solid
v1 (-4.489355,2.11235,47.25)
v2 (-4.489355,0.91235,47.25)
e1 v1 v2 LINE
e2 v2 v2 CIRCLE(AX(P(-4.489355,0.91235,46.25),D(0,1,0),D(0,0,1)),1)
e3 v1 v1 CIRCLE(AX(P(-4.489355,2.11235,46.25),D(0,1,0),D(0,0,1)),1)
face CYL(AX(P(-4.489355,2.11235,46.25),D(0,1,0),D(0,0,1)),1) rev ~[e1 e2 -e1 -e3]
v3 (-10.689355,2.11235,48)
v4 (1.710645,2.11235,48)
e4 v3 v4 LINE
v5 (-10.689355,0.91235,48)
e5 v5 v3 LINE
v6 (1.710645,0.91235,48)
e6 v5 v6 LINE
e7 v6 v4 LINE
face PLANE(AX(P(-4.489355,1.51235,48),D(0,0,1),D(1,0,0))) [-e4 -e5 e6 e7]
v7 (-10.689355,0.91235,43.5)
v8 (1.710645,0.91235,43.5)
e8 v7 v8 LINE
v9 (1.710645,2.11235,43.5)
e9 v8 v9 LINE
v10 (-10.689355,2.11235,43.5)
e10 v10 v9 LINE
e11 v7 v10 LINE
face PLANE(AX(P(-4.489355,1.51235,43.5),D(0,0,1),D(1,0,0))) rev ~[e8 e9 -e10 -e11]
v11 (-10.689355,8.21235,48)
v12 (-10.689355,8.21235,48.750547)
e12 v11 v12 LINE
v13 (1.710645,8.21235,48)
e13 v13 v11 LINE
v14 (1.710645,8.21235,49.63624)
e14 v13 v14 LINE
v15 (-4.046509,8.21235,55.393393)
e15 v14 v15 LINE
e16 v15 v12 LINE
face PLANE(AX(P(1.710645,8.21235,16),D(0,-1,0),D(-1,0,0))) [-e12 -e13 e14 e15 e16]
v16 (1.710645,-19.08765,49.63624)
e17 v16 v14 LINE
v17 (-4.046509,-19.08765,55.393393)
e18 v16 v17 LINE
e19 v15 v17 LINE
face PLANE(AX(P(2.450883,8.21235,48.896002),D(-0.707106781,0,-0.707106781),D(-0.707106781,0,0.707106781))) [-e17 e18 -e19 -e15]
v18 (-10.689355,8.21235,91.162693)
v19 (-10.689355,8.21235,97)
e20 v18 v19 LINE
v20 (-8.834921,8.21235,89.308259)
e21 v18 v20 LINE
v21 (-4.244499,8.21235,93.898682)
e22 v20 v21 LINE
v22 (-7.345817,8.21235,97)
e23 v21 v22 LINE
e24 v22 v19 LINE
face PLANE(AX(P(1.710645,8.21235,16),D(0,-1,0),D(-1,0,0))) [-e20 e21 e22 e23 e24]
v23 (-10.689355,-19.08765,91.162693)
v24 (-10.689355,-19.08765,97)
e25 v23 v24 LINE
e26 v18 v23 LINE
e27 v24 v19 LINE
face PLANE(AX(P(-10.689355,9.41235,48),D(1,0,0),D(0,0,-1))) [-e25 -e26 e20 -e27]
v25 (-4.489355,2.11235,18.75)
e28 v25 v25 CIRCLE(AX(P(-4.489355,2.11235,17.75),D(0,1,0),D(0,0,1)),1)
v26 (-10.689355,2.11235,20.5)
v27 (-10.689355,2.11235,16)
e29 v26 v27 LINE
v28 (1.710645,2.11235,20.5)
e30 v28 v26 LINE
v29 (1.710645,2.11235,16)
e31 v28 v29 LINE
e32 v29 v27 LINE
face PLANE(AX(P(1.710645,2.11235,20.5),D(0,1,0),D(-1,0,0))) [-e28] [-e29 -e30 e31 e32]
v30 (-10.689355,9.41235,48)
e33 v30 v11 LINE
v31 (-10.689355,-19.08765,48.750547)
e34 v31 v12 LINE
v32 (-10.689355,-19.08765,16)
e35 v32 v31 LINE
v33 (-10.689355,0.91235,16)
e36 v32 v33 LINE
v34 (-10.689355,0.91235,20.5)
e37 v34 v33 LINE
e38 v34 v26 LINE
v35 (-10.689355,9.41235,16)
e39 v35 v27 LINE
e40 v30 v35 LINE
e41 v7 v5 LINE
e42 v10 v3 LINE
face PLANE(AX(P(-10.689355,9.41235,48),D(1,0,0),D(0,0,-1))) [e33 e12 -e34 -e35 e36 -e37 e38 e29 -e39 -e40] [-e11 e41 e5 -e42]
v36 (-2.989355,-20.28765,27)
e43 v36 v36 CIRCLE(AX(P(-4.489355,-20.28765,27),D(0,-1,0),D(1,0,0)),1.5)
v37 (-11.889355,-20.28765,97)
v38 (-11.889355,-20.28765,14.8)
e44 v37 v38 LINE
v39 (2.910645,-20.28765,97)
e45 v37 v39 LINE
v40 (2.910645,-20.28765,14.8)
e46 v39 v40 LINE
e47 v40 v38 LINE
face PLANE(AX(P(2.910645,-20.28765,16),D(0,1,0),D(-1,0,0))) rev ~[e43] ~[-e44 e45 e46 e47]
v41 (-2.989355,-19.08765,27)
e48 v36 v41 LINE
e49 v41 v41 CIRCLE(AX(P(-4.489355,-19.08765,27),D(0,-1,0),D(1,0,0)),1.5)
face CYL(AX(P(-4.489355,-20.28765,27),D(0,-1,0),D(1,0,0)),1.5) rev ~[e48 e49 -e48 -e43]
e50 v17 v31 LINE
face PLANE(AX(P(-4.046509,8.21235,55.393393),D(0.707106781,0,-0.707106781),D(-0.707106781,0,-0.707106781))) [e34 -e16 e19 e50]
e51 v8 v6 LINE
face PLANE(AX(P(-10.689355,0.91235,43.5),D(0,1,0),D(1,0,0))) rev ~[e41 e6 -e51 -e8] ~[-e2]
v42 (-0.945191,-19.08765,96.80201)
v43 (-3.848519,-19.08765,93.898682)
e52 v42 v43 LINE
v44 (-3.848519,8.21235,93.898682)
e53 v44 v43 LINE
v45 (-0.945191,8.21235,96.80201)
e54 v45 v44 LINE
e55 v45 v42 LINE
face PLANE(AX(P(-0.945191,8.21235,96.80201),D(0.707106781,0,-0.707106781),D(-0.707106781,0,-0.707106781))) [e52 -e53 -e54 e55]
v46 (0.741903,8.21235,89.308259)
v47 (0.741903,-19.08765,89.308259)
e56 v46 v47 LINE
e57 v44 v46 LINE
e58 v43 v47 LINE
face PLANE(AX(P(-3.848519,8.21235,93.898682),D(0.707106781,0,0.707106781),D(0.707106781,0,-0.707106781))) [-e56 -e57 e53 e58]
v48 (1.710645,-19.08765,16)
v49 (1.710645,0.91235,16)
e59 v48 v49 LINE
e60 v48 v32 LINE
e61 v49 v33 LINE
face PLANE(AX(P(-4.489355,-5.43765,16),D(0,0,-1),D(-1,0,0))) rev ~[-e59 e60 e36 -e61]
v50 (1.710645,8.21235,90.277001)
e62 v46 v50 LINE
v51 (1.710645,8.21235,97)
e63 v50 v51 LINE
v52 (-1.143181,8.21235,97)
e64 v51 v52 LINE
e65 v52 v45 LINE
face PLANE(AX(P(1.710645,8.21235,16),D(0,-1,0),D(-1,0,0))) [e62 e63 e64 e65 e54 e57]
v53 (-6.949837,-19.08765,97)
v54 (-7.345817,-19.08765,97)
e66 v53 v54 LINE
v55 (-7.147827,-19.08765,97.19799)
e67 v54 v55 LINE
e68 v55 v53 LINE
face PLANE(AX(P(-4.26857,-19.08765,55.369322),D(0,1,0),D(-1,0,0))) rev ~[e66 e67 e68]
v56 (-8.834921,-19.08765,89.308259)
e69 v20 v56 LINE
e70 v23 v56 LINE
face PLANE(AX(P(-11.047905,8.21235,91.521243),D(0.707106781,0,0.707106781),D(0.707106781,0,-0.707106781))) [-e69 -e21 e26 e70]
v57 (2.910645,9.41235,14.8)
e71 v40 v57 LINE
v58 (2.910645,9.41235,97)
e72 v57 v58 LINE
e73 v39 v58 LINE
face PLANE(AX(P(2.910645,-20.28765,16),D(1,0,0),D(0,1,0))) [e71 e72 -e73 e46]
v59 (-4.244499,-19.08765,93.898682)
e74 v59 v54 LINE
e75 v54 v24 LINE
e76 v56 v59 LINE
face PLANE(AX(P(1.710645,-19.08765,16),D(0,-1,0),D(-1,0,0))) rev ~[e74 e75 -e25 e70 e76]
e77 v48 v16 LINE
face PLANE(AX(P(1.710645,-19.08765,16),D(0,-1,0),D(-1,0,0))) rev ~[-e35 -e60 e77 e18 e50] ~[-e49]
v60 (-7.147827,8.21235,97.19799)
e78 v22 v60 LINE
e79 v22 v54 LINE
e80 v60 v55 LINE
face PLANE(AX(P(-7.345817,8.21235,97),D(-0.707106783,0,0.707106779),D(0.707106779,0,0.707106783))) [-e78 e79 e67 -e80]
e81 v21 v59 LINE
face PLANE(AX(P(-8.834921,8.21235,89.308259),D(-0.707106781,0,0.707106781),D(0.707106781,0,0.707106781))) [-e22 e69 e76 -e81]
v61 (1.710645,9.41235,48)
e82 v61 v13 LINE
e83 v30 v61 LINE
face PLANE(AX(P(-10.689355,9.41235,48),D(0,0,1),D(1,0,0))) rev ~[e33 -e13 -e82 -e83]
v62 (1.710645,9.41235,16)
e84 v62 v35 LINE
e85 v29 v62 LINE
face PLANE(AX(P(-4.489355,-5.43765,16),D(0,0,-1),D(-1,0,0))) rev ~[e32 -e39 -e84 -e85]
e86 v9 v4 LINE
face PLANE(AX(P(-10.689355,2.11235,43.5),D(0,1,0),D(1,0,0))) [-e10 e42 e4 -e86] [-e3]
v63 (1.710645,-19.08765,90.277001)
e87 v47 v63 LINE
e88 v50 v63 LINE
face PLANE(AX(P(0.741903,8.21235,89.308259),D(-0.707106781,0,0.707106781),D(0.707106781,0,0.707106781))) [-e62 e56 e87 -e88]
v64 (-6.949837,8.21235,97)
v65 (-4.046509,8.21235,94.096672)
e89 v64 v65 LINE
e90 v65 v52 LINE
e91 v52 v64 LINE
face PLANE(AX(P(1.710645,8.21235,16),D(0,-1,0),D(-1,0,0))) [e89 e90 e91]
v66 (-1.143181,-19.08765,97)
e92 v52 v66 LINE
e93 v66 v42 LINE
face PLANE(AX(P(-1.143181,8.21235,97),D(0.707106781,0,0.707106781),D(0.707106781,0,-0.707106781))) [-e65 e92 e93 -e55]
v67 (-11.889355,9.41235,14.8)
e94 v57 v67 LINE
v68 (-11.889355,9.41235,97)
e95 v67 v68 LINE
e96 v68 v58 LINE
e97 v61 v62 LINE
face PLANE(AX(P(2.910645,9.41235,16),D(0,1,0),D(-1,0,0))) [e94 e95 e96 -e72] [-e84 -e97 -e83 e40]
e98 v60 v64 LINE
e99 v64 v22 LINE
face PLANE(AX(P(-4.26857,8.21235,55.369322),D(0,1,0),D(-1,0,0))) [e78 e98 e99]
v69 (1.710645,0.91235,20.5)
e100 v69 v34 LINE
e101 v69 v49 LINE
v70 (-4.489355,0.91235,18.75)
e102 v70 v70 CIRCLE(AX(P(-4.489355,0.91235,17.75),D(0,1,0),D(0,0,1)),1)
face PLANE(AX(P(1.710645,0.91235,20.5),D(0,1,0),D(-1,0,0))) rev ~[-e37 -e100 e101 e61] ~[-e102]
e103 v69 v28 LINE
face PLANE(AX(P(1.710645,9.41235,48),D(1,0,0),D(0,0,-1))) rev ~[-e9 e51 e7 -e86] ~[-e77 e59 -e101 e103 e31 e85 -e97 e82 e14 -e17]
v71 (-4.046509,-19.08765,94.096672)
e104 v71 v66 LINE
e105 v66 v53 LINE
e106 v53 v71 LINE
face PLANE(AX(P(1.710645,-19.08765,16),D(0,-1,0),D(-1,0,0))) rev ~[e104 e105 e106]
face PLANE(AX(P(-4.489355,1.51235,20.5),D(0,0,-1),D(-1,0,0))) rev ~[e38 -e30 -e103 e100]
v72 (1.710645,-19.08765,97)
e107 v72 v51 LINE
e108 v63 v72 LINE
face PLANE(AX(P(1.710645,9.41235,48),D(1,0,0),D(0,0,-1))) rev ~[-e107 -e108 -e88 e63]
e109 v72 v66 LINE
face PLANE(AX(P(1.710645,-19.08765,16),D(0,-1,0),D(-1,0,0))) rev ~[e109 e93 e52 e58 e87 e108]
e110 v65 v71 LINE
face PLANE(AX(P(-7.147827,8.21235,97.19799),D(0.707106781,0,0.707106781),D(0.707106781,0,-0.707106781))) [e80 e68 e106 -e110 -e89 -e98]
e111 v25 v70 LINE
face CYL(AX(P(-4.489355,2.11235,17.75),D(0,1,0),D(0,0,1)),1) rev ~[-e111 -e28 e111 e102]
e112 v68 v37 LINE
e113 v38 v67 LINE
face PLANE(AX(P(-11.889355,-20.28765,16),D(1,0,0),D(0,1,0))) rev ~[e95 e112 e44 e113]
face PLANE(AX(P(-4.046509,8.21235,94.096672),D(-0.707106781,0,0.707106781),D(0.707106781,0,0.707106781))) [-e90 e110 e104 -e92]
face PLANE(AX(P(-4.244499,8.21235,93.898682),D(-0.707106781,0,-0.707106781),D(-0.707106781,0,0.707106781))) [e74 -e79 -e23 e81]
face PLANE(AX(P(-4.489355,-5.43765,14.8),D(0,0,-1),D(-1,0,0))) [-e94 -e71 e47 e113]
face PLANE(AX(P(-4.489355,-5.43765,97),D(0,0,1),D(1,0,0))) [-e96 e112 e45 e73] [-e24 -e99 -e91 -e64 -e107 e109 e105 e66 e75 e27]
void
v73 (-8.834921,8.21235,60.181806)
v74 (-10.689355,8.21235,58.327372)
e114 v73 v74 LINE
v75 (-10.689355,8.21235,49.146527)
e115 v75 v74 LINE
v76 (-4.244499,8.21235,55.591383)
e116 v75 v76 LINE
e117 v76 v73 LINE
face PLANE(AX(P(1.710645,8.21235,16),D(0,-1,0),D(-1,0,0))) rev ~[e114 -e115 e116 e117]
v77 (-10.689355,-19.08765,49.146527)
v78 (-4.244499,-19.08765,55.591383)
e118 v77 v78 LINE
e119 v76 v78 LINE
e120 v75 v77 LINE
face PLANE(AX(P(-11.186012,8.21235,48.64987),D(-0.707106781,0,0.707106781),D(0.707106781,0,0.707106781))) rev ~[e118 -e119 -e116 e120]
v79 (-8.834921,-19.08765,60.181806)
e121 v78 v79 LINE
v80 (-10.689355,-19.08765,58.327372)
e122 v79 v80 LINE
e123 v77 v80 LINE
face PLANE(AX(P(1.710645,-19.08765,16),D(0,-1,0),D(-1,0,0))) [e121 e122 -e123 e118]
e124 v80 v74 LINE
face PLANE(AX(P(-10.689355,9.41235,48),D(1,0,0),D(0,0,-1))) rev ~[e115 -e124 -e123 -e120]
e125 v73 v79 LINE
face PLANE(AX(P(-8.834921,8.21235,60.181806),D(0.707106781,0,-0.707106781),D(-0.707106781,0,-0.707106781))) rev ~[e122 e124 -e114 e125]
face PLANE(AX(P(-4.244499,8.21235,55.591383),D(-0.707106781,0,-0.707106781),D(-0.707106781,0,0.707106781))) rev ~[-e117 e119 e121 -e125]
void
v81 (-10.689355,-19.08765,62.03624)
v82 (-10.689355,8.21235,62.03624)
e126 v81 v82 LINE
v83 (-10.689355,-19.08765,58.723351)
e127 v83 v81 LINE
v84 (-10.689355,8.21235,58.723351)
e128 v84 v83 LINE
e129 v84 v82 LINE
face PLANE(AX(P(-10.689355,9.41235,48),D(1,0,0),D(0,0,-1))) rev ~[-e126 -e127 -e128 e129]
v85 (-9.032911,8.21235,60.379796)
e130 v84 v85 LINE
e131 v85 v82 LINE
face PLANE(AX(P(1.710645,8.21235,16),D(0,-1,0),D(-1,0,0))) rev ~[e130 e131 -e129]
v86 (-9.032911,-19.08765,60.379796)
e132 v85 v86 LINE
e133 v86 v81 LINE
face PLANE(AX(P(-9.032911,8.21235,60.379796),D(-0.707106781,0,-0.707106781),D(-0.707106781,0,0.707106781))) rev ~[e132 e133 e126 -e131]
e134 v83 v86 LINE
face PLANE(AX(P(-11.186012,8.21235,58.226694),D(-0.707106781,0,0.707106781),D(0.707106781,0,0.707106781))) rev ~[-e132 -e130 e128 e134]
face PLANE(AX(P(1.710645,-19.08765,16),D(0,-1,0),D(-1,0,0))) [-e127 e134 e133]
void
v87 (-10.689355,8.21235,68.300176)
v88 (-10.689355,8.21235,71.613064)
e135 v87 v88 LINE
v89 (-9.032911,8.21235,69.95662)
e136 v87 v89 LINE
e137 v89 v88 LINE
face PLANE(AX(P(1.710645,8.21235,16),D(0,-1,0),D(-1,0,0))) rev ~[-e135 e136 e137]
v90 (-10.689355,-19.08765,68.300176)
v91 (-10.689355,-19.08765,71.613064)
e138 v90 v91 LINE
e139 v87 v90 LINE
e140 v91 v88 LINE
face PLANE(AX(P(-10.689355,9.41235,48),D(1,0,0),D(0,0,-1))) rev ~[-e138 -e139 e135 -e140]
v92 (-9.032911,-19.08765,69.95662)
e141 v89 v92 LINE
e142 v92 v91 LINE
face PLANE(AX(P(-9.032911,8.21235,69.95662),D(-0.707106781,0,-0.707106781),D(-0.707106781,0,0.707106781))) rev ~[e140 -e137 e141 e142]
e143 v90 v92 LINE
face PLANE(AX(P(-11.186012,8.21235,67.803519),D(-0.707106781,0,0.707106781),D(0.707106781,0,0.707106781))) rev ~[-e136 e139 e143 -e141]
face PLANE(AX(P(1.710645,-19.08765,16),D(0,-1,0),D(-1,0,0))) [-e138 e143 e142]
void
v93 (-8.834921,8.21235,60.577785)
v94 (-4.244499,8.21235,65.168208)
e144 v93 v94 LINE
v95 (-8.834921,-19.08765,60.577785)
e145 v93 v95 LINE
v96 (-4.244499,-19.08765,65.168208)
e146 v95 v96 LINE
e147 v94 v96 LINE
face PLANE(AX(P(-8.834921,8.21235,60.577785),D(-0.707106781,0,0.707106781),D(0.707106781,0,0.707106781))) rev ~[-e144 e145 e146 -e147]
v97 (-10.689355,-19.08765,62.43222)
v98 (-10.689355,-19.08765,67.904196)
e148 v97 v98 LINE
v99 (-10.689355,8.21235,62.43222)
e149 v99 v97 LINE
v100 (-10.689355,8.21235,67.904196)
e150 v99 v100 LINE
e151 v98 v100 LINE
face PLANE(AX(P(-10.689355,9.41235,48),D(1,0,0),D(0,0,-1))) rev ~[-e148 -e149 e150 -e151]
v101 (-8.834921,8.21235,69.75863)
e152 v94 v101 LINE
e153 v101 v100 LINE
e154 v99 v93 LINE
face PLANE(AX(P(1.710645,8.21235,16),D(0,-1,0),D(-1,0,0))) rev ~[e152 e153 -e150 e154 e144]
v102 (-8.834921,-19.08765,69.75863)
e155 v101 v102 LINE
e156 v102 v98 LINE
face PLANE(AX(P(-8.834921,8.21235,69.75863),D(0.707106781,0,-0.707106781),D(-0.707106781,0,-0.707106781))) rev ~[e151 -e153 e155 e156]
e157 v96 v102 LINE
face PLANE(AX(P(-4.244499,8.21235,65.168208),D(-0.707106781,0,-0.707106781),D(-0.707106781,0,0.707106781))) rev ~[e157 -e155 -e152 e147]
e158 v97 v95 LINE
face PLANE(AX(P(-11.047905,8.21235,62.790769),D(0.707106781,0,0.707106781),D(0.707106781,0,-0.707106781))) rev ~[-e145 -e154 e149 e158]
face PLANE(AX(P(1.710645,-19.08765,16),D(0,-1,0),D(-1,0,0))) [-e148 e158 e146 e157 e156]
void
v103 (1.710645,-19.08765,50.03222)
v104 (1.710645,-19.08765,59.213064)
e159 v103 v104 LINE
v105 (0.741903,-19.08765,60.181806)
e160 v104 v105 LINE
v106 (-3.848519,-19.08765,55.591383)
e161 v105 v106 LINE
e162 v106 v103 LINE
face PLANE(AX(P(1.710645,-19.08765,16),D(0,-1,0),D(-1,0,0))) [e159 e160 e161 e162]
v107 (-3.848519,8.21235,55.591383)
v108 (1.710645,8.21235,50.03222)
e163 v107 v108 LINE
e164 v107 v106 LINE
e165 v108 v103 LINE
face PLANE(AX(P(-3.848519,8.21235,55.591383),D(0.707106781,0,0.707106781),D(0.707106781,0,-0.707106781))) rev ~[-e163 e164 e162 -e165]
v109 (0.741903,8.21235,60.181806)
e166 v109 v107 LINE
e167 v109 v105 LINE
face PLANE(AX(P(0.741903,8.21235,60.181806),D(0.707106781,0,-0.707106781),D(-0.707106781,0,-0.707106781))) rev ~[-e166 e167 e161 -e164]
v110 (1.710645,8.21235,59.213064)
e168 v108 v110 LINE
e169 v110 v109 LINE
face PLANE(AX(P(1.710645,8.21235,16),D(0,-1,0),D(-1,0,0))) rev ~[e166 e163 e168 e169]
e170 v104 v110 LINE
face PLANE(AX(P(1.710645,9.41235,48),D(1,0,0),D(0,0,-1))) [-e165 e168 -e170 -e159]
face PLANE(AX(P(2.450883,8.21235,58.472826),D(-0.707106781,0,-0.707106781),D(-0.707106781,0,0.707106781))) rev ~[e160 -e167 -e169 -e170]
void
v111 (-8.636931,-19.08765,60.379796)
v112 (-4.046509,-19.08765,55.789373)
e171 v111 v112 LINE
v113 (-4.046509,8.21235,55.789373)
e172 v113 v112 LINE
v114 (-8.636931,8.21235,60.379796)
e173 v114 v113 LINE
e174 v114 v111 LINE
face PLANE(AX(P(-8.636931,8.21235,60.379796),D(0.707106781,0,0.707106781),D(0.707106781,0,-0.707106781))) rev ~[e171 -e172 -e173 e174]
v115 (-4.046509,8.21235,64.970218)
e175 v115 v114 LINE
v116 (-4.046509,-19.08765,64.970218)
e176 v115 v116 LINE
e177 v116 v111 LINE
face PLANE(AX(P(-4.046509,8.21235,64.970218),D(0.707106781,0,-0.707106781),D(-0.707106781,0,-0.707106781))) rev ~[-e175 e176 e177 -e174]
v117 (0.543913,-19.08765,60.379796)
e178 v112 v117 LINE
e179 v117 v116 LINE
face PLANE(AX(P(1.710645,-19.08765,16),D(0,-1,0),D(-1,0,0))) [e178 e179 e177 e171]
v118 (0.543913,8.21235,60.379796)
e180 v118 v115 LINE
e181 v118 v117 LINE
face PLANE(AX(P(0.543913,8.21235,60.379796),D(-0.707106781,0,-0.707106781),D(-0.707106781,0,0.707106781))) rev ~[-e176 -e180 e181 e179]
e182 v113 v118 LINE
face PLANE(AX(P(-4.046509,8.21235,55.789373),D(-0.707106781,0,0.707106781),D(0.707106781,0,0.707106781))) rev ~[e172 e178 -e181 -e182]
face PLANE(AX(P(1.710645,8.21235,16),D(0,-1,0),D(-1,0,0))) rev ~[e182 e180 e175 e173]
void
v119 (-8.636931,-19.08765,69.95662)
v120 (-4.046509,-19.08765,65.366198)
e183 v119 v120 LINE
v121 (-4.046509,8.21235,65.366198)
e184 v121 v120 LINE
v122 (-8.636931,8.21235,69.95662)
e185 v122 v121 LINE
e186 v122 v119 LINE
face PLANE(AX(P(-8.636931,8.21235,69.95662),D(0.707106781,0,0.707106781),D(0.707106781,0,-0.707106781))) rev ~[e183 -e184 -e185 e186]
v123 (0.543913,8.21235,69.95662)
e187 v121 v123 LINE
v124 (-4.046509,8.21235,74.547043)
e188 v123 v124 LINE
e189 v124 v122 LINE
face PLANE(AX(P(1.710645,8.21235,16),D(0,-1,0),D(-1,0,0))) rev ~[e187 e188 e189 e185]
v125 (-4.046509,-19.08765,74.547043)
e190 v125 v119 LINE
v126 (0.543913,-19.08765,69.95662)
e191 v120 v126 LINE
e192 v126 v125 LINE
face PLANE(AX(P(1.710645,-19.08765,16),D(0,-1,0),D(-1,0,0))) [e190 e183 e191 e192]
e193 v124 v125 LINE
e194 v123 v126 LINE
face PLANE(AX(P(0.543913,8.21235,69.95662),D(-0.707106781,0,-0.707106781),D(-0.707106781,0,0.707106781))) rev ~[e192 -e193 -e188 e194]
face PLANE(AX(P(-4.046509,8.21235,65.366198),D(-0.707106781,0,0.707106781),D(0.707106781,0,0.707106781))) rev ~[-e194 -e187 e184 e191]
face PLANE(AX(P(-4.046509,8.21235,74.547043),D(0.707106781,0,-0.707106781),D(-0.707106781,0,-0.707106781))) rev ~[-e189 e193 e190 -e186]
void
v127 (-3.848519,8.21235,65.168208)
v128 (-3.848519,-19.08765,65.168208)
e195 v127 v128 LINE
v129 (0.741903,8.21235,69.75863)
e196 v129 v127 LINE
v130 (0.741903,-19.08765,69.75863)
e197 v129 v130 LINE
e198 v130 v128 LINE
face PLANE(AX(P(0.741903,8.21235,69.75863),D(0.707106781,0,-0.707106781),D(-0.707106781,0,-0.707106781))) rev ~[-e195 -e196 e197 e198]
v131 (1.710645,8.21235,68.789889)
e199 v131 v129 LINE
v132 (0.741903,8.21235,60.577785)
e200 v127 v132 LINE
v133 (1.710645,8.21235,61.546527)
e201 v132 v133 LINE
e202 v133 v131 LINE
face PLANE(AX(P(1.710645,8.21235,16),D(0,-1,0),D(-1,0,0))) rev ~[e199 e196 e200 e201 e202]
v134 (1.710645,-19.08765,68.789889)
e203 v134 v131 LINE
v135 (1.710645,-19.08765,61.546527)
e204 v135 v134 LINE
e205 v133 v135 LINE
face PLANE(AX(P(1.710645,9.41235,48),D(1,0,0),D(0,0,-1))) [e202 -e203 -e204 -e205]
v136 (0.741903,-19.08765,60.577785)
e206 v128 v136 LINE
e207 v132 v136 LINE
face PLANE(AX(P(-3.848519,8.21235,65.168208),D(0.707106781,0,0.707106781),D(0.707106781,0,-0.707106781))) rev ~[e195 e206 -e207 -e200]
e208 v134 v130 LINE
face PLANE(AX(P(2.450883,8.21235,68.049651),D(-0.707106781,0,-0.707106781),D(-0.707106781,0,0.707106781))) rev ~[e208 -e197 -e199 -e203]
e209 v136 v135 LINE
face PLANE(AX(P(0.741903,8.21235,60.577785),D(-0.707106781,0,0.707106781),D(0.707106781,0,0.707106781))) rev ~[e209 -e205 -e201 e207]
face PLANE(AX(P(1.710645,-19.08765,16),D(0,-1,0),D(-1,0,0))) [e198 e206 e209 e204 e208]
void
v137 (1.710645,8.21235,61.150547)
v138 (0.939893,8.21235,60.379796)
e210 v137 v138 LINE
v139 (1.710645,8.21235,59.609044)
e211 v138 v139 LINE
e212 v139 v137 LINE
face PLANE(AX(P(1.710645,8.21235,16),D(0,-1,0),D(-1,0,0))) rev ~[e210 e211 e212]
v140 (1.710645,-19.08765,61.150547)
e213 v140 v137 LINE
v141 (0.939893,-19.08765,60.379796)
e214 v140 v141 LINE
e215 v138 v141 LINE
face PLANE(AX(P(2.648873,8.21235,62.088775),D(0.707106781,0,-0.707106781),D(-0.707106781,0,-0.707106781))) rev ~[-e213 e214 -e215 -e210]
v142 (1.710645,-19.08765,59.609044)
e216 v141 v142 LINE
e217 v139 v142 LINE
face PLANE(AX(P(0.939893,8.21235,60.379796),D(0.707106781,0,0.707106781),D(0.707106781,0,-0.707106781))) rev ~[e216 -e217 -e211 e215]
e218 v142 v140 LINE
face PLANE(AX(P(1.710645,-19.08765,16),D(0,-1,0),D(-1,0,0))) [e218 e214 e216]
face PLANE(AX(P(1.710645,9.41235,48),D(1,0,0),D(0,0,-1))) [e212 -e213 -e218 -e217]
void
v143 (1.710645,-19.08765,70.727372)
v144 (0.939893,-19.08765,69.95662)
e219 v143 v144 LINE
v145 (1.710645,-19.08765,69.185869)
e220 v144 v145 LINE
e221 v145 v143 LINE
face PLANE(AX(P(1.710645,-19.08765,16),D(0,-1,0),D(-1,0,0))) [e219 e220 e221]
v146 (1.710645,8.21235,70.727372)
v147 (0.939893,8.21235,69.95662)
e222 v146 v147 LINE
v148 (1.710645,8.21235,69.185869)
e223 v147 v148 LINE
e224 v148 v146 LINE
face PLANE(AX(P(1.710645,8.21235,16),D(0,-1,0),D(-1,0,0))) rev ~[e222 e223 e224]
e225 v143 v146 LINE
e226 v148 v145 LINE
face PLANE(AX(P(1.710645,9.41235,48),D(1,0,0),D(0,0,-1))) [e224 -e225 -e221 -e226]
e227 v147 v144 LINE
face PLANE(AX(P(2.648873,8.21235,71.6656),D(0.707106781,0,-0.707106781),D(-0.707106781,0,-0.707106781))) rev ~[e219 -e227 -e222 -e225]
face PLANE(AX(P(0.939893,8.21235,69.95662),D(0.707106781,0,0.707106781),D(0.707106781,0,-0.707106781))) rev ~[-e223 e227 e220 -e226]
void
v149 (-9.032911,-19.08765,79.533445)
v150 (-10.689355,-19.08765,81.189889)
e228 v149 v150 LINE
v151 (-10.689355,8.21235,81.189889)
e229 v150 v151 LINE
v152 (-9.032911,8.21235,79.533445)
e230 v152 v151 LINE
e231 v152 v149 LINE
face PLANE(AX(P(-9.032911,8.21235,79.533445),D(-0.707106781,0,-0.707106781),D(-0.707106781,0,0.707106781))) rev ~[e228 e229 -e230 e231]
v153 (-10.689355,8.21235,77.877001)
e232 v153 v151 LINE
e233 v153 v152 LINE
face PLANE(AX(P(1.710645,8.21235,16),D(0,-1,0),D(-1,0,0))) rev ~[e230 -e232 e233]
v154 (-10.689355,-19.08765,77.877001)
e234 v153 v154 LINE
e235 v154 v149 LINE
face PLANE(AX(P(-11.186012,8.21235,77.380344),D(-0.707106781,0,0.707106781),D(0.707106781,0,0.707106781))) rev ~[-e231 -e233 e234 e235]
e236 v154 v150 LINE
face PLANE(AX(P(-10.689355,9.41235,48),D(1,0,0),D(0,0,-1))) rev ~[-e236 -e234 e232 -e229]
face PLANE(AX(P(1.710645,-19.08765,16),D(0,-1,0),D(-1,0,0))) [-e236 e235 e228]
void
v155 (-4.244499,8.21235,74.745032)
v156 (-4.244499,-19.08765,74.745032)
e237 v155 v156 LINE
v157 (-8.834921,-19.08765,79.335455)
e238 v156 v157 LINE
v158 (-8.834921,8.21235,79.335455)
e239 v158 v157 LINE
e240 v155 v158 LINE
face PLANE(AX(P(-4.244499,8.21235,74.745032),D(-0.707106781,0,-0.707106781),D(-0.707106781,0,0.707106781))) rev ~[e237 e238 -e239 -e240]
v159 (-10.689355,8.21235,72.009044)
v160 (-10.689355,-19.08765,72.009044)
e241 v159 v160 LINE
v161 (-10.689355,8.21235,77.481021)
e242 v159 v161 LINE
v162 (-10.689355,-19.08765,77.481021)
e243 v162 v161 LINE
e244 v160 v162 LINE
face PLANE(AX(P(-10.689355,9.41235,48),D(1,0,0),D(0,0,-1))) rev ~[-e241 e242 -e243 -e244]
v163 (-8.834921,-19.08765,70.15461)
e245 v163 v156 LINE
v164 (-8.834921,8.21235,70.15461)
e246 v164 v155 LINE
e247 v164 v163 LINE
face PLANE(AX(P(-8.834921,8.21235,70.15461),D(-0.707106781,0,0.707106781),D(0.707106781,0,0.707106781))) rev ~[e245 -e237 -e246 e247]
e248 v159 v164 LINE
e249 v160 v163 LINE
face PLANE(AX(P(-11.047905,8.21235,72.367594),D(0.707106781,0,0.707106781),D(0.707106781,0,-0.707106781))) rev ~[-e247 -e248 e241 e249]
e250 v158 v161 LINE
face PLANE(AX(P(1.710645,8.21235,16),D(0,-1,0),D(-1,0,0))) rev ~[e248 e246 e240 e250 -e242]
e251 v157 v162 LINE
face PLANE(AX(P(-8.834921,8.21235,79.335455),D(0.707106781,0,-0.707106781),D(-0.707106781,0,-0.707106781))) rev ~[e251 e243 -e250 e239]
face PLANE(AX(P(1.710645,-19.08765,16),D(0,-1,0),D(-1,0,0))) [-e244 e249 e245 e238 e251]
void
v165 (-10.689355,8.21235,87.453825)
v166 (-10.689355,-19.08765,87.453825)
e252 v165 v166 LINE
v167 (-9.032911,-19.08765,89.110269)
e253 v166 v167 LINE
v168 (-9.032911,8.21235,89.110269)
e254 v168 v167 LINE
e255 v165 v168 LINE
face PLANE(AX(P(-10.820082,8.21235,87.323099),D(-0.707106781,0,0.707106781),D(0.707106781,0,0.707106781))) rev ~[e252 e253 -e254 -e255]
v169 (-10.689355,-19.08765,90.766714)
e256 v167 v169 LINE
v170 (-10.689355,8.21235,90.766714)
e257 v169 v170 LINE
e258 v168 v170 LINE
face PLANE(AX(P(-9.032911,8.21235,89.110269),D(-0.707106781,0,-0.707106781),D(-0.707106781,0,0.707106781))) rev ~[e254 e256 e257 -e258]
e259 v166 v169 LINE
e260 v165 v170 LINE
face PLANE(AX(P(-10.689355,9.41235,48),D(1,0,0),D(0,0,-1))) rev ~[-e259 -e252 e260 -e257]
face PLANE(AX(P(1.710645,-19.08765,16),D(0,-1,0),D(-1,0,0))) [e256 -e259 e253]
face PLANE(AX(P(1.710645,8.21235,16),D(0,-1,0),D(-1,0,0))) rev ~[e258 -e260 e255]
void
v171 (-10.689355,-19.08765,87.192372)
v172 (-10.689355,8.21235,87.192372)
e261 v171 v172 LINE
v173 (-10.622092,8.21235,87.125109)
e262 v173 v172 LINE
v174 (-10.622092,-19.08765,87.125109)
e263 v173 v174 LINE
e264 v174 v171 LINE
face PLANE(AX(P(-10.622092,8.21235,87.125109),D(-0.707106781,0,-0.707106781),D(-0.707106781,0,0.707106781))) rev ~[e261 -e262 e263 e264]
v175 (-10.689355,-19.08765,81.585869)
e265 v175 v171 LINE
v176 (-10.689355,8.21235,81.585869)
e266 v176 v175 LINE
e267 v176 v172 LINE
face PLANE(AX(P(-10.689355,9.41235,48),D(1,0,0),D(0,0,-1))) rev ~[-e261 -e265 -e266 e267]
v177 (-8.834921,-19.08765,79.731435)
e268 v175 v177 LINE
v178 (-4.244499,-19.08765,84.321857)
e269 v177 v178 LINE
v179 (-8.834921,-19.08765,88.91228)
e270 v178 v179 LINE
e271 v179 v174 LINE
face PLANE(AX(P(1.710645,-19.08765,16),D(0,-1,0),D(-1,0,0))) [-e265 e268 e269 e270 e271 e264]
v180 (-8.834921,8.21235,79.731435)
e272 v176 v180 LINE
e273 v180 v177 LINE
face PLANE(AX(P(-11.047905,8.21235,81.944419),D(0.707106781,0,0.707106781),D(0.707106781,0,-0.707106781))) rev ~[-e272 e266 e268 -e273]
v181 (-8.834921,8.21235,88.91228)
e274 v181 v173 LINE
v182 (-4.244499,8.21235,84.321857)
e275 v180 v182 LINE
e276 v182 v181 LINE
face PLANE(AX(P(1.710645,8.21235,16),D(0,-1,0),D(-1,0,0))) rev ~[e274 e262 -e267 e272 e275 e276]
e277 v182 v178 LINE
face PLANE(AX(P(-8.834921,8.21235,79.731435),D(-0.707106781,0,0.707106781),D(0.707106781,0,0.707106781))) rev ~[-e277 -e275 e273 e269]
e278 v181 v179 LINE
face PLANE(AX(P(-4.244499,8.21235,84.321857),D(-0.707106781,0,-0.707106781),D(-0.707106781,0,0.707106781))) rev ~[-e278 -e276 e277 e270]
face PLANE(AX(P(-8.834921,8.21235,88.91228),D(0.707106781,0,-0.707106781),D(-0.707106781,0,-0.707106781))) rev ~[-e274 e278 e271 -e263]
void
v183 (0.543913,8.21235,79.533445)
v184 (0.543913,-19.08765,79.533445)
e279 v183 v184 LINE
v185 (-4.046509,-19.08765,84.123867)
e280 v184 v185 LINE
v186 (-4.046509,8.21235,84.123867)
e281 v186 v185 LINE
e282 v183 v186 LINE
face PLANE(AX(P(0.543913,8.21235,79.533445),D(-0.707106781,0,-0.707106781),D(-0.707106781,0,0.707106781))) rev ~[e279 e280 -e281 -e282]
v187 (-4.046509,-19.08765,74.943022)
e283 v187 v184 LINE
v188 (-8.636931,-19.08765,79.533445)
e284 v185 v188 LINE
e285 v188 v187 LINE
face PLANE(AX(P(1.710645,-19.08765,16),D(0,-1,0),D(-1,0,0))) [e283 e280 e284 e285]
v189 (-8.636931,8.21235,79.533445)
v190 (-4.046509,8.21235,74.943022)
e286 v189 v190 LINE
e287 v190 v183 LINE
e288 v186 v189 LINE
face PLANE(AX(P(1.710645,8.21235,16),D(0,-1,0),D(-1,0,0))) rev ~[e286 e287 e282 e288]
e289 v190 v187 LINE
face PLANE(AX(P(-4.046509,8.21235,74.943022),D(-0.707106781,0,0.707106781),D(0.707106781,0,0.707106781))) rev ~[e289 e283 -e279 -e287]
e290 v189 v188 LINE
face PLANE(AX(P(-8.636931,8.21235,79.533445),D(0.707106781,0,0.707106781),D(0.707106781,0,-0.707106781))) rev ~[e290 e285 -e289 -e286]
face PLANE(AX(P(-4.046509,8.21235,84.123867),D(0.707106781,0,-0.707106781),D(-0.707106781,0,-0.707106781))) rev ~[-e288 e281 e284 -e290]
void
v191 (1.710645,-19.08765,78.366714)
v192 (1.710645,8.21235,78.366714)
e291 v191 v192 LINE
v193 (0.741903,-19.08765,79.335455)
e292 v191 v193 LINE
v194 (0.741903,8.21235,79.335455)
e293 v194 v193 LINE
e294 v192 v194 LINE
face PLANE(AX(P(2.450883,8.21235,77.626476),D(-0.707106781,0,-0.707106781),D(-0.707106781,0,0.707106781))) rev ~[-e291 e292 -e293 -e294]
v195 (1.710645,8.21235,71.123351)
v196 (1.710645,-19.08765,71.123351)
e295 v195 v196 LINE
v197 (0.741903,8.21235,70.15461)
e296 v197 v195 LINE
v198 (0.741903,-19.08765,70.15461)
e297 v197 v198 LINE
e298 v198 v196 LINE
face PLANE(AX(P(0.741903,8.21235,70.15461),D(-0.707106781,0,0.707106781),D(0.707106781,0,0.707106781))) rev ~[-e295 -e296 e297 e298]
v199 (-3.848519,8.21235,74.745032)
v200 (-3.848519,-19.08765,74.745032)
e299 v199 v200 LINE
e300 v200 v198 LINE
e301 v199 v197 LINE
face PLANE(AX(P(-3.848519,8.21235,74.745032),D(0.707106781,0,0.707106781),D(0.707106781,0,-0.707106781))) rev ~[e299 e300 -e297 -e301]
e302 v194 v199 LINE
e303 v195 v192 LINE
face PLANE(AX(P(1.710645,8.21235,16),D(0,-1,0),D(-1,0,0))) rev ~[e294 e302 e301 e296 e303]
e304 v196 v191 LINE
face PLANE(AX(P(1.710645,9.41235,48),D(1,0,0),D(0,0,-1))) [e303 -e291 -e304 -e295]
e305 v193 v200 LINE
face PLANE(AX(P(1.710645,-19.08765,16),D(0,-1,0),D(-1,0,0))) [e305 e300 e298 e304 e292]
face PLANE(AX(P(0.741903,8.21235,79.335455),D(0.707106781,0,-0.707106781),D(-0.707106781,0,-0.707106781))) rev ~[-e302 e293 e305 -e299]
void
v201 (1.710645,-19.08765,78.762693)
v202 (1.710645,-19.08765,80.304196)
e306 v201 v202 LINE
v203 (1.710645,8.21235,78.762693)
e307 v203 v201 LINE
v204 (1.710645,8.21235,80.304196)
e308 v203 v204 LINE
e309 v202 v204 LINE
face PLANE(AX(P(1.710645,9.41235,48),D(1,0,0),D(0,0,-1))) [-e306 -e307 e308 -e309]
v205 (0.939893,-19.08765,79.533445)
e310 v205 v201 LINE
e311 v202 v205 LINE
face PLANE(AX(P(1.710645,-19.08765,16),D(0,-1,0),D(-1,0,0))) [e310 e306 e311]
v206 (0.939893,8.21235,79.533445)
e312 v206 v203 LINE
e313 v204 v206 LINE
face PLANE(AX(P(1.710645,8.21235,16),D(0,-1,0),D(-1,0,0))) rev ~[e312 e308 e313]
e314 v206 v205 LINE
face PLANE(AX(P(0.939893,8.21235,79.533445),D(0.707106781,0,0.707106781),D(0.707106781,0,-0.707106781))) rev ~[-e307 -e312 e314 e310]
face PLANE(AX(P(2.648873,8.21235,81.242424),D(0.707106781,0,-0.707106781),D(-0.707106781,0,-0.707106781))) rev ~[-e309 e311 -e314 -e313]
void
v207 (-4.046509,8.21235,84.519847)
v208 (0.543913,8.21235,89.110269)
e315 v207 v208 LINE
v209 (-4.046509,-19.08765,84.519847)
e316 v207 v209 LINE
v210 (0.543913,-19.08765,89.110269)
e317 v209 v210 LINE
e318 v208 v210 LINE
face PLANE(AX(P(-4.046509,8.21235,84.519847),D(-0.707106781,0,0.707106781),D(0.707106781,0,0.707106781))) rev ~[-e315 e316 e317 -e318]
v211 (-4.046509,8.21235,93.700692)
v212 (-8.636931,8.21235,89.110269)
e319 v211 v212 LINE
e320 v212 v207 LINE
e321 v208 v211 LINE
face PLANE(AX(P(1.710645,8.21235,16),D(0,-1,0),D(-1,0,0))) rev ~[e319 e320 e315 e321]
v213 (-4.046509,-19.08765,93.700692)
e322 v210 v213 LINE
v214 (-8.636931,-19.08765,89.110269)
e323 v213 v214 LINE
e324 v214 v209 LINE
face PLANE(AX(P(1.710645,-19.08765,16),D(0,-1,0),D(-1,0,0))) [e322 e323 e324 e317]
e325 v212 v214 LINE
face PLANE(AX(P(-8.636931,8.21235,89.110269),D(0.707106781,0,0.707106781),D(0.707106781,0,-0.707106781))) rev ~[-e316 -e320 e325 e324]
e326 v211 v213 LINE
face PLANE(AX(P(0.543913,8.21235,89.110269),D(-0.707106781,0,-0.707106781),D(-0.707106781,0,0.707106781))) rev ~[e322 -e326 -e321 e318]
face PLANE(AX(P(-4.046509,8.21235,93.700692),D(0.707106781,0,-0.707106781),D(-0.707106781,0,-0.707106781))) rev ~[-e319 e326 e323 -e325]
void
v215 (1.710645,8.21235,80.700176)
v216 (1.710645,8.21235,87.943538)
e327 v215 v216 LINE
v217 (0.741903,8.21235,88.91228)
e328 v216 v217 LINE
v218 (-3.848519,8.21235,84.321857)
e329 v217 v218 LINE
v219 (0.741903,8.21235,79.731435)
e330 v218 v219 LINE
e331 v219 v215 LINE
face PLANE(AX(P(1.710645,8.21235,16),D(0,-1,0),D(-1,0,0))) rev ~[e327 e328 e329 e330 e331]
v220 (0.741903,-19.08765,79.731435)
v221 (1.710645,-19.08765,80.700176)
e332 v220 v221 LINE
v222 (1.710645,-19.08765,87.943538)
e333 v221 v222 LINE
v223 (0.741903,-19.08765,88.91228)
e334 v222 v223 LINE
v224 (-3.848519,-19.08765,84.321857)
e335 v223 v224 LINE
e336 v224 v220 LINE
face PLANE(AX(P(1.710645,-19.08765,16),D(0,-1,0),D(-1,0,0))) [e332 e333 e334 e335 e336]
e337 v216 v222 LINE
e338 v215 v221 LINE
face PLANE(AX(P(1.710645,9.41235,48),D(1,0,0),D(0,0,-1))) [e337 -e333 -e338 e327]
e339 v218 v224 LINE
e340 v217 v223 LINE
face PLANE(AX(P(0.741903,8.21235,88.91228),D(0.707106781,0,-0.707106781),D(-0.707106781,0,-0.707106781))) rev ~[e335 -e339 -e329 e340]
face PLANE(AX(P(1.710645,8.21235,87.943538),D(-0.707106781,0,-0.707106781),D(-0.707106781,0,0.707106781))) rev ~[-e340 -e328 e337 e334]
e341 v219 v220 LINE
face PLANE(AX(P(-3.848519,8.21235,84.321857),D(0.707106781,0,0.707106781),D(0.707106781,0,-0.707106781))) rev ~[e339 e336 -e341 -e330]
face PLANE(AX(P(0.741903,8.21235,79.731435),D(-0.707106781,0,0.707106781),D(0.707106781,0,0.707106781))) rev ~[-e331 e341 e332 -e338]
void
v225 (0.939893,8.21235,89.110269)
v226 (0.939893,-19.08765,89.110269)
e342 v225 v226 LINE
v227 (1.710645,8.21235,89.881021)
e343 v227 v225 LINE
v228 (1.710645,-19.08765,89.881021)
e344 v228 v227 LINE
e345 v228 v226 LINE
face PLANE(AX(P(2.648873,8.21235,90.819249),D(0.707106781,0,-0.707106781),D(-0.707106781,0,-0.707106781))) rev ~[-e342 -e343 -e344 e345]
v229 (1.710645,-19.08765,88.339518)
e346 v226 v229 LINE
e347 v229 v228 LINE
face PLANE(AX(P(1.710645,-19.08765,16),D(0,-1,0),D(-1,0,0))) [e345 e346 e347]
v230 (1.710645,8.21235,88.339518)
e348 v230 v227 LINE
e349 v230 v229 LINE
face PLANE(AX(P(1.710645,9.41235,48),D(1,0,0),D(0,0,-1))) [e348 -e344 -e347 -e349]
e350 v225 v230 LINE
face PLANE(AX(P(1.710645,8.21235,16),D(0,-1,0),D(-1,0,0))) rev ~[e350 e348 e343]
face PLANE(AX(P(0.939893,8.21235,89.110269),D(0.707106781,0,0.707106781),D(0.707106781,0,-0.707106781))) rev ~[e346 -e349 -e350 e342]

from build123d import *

# Parameters (mm, degrees)
SKETCH2_W           = 12.4
SKETCH2_H           = 27.3
BOSS_EXTRUDE1_DEPTH = 81
SKETCH3_W           = 12.4
SKETCH3_H           = 1.2
BOSS_EXTRUDE2_DEPTH = 4.5
SKETCH6_W           = 12.4
SKETCH6_H           = 1.2
BOSS_EXTRUDE3_DEPTH = 4.5
SKETCH7_R           = 1
CUT_EXTRUDE2_DEPTH  = 4.5
SKETCH9_R           = 1
CUT_EXTRUDE3_DEPTH  = 1.2
SKETCH11_W          = 12.4
SKETCH11_H          = 32
CUT_EXTRUDE4_DEPTH  = 2
SKETCH12_R          = 1.5
CUT_EXTRUDE5_DEPTH  = 3
SKETCH13_W          = 14.8
SKETCH13_H          = 29.7
BOSS_EXTRUDE4_DEPTH = 1.2
EXTRUDE_THIN4_DEPTH = 27.3


with BuildPart() as part:
    # Sketch2 → Boss-Extrude1 (new body)
    with BuildSketch(Plane(origin=(0, 0, 16), x_dir=(-1, 0, 0), z_dir=(0, 0, -1))):
        Polygon((-1.710644683, 9.412349839), (10.689355317, 9.412349839), (11.889355317, 9.412349839), (11.889355317, -20.287650161), (-2.910644683, -20.287650161), (-2.910644683, 9.412349839), align=None)
        with Locations((4.489355317, -5.437650161)):
            Rectangle(SKETCH2_W, SKETCH2_H, mode=Mode.SUBTRACT)
    extrude(amount=-BOSS_EXTRUDE1_DEPTH)

    # Sketch3 → Boss-Extrude2 (add)
    with BuildSketch(Plane(origin=(0, 0, 20.5), x_dir=(-1, 0, 0), z_dir=(0, 0, -1))):
        with Locations((4.489355317, 1.512349839)):
            Rectangle(SKETCH3_W, SKETCH3_H)
    extrude(amount=BOSS_EXTRUDE2_DEPTH)

    # Sketch6 → Boss-Extrude3 (add)
    with BuildSketch(Plane.XY.offset(43.5)):
        with Locations((-4.489355317, 1.512349839)):
            Rectangle(SKETCH6_W, SKETCH6_H)
    extrude(amount=BOSS_EXTRUDE3_DEPTH)

    # Sketch7 → Cut-Extrude2 (cut)
    with BuildSketch(Plane(origin=(0, 2.112349839, 0), x_dir=(1, 0, 0), z_dir=(0, 1, 0))):
        with Locations(Location((-4.489355317, -46.25, 0), (0, 0, 270))):
            Circle(SKETCH7_R)
    extrude(amount=-CUT_EXTRUDE2_DEPTH, mode=Mode.SUBTRACT)

    # Sketch9 → Cut-Extrude3 (cut)
    with BuildSketch(Plane(origin=(0, 2.112349839, 0), x_dir=(1, 0, 0), z_dir=(0, 1, 0))):
        with Locations(Location((-4.489355317, -17.75, 0), (0, 0, 270))):
            Circle(SKETCH9_R)
    extrude(amount=-CUT_EXTRUDE3_DEPTH, mode=Mode.SUBTRACT)

    # Sketch11 → Cut-Extrude4 (cut)
    with BuildSketch(Plane(origin=(0, 9.412349839, 0), x_dir=(1, 0, 0), z_dir=(0, 1, 0))):
        with Locations((-4.489355317, -32)):
            Rectangle(SKETCH11_W, SKETCH11_H)
    extrude(amount=-CUT_EXTRUDE4_DEPTH, mode=Mode.SUBTRACT)

    # Sketch12 → Cut-Extrude5 (cut)
    with BuildSketch(Plane.XZ.offset(20.287650161)):
        with Locations((-4.489355317, 27)):
            Circle(SKETCH12_R)
    extrude(amount=-CUT_EXTRUDE5_DEPTH, mode=Mode.SUBTRACT)

    # Sketch13 → Boss-Extrude4 (add)
    with BuildSketch(Plane(origin=(0, 0, 16), x_dir=(-1, 0, 0), z_dir=(0, 0, -1))):
        with Locations((4.489355317, -5.437650161)):
            Rectangle(SKETCH13_W, SKETCH13_H)
    extrude(amount=BOSS_EXTRUDE4_DEPTH)

    # Sketch14 → Extrude-Thin4 (add)
    with BuildSketch(Plane.XZ.offset(-8.212349839)):
        Polygon((-11.186012312, 48.649869812), (2.450882677, 62.2867648), (2.648872575, 62.088774902), (-10.988022413, 48.451879913), align=None)
        Polygon((2.450882677, 48.896001763), (-11.245895089, 62.592779529), (-11.04790519, 62.790769427), (2.648872575, 49.093991662), align=None)
        Polygon((-11.186012312, 58.226694419), (2.450882677, 71.863589408), (2.648872575, 71.665599509), (-10.988022413, 58.02870452), align=None)
        Polygon((2.450882677, 58.47282637), (-11.245895089, 72.169604136), (-11.04790519, 72.367594035), (2.648872575, 58.670816269), align=None)
        Polygon((-11.186012312, 67.803519026), (2.450882677, 81.440414015), (2.648872575, 81.242424116), (-10.988022413, 67.605529127), align=None)
        Polygon((2.450882677, 68.049650977), (-11.245895089, 81.746428743), (-11.04790519, 81.944418642), (2.648872575, 68.247640876), align=None)
        Polygon((-11.186012312, 77.380343633), (2.450882677, 91.017238622), (2.648872575, 90.819248723), (-10.988022413, 77.182353735), align=None)
        Polygon((2.450882677, 77.626475585), (-11.245895089, 91.32325335), (-11.04790519, 91.521243249), (2.648872575, 77.824465483), align=None)
        Polygon((-10.82008194, 87.323098613), (-1.143180553, 97), (-0.945190654, 96.802010101), (-10.622092041, 87.125108714), align=None)
        Polygon((1.710644683, 87.943538186), (-7.345817131, 97), (-7.147827233, 97.197989899), (1.908634582, 88.141528084), align=None)
    extrude(amount=EXTRUDE_THIN4_DEPTH)


solid = part.part
